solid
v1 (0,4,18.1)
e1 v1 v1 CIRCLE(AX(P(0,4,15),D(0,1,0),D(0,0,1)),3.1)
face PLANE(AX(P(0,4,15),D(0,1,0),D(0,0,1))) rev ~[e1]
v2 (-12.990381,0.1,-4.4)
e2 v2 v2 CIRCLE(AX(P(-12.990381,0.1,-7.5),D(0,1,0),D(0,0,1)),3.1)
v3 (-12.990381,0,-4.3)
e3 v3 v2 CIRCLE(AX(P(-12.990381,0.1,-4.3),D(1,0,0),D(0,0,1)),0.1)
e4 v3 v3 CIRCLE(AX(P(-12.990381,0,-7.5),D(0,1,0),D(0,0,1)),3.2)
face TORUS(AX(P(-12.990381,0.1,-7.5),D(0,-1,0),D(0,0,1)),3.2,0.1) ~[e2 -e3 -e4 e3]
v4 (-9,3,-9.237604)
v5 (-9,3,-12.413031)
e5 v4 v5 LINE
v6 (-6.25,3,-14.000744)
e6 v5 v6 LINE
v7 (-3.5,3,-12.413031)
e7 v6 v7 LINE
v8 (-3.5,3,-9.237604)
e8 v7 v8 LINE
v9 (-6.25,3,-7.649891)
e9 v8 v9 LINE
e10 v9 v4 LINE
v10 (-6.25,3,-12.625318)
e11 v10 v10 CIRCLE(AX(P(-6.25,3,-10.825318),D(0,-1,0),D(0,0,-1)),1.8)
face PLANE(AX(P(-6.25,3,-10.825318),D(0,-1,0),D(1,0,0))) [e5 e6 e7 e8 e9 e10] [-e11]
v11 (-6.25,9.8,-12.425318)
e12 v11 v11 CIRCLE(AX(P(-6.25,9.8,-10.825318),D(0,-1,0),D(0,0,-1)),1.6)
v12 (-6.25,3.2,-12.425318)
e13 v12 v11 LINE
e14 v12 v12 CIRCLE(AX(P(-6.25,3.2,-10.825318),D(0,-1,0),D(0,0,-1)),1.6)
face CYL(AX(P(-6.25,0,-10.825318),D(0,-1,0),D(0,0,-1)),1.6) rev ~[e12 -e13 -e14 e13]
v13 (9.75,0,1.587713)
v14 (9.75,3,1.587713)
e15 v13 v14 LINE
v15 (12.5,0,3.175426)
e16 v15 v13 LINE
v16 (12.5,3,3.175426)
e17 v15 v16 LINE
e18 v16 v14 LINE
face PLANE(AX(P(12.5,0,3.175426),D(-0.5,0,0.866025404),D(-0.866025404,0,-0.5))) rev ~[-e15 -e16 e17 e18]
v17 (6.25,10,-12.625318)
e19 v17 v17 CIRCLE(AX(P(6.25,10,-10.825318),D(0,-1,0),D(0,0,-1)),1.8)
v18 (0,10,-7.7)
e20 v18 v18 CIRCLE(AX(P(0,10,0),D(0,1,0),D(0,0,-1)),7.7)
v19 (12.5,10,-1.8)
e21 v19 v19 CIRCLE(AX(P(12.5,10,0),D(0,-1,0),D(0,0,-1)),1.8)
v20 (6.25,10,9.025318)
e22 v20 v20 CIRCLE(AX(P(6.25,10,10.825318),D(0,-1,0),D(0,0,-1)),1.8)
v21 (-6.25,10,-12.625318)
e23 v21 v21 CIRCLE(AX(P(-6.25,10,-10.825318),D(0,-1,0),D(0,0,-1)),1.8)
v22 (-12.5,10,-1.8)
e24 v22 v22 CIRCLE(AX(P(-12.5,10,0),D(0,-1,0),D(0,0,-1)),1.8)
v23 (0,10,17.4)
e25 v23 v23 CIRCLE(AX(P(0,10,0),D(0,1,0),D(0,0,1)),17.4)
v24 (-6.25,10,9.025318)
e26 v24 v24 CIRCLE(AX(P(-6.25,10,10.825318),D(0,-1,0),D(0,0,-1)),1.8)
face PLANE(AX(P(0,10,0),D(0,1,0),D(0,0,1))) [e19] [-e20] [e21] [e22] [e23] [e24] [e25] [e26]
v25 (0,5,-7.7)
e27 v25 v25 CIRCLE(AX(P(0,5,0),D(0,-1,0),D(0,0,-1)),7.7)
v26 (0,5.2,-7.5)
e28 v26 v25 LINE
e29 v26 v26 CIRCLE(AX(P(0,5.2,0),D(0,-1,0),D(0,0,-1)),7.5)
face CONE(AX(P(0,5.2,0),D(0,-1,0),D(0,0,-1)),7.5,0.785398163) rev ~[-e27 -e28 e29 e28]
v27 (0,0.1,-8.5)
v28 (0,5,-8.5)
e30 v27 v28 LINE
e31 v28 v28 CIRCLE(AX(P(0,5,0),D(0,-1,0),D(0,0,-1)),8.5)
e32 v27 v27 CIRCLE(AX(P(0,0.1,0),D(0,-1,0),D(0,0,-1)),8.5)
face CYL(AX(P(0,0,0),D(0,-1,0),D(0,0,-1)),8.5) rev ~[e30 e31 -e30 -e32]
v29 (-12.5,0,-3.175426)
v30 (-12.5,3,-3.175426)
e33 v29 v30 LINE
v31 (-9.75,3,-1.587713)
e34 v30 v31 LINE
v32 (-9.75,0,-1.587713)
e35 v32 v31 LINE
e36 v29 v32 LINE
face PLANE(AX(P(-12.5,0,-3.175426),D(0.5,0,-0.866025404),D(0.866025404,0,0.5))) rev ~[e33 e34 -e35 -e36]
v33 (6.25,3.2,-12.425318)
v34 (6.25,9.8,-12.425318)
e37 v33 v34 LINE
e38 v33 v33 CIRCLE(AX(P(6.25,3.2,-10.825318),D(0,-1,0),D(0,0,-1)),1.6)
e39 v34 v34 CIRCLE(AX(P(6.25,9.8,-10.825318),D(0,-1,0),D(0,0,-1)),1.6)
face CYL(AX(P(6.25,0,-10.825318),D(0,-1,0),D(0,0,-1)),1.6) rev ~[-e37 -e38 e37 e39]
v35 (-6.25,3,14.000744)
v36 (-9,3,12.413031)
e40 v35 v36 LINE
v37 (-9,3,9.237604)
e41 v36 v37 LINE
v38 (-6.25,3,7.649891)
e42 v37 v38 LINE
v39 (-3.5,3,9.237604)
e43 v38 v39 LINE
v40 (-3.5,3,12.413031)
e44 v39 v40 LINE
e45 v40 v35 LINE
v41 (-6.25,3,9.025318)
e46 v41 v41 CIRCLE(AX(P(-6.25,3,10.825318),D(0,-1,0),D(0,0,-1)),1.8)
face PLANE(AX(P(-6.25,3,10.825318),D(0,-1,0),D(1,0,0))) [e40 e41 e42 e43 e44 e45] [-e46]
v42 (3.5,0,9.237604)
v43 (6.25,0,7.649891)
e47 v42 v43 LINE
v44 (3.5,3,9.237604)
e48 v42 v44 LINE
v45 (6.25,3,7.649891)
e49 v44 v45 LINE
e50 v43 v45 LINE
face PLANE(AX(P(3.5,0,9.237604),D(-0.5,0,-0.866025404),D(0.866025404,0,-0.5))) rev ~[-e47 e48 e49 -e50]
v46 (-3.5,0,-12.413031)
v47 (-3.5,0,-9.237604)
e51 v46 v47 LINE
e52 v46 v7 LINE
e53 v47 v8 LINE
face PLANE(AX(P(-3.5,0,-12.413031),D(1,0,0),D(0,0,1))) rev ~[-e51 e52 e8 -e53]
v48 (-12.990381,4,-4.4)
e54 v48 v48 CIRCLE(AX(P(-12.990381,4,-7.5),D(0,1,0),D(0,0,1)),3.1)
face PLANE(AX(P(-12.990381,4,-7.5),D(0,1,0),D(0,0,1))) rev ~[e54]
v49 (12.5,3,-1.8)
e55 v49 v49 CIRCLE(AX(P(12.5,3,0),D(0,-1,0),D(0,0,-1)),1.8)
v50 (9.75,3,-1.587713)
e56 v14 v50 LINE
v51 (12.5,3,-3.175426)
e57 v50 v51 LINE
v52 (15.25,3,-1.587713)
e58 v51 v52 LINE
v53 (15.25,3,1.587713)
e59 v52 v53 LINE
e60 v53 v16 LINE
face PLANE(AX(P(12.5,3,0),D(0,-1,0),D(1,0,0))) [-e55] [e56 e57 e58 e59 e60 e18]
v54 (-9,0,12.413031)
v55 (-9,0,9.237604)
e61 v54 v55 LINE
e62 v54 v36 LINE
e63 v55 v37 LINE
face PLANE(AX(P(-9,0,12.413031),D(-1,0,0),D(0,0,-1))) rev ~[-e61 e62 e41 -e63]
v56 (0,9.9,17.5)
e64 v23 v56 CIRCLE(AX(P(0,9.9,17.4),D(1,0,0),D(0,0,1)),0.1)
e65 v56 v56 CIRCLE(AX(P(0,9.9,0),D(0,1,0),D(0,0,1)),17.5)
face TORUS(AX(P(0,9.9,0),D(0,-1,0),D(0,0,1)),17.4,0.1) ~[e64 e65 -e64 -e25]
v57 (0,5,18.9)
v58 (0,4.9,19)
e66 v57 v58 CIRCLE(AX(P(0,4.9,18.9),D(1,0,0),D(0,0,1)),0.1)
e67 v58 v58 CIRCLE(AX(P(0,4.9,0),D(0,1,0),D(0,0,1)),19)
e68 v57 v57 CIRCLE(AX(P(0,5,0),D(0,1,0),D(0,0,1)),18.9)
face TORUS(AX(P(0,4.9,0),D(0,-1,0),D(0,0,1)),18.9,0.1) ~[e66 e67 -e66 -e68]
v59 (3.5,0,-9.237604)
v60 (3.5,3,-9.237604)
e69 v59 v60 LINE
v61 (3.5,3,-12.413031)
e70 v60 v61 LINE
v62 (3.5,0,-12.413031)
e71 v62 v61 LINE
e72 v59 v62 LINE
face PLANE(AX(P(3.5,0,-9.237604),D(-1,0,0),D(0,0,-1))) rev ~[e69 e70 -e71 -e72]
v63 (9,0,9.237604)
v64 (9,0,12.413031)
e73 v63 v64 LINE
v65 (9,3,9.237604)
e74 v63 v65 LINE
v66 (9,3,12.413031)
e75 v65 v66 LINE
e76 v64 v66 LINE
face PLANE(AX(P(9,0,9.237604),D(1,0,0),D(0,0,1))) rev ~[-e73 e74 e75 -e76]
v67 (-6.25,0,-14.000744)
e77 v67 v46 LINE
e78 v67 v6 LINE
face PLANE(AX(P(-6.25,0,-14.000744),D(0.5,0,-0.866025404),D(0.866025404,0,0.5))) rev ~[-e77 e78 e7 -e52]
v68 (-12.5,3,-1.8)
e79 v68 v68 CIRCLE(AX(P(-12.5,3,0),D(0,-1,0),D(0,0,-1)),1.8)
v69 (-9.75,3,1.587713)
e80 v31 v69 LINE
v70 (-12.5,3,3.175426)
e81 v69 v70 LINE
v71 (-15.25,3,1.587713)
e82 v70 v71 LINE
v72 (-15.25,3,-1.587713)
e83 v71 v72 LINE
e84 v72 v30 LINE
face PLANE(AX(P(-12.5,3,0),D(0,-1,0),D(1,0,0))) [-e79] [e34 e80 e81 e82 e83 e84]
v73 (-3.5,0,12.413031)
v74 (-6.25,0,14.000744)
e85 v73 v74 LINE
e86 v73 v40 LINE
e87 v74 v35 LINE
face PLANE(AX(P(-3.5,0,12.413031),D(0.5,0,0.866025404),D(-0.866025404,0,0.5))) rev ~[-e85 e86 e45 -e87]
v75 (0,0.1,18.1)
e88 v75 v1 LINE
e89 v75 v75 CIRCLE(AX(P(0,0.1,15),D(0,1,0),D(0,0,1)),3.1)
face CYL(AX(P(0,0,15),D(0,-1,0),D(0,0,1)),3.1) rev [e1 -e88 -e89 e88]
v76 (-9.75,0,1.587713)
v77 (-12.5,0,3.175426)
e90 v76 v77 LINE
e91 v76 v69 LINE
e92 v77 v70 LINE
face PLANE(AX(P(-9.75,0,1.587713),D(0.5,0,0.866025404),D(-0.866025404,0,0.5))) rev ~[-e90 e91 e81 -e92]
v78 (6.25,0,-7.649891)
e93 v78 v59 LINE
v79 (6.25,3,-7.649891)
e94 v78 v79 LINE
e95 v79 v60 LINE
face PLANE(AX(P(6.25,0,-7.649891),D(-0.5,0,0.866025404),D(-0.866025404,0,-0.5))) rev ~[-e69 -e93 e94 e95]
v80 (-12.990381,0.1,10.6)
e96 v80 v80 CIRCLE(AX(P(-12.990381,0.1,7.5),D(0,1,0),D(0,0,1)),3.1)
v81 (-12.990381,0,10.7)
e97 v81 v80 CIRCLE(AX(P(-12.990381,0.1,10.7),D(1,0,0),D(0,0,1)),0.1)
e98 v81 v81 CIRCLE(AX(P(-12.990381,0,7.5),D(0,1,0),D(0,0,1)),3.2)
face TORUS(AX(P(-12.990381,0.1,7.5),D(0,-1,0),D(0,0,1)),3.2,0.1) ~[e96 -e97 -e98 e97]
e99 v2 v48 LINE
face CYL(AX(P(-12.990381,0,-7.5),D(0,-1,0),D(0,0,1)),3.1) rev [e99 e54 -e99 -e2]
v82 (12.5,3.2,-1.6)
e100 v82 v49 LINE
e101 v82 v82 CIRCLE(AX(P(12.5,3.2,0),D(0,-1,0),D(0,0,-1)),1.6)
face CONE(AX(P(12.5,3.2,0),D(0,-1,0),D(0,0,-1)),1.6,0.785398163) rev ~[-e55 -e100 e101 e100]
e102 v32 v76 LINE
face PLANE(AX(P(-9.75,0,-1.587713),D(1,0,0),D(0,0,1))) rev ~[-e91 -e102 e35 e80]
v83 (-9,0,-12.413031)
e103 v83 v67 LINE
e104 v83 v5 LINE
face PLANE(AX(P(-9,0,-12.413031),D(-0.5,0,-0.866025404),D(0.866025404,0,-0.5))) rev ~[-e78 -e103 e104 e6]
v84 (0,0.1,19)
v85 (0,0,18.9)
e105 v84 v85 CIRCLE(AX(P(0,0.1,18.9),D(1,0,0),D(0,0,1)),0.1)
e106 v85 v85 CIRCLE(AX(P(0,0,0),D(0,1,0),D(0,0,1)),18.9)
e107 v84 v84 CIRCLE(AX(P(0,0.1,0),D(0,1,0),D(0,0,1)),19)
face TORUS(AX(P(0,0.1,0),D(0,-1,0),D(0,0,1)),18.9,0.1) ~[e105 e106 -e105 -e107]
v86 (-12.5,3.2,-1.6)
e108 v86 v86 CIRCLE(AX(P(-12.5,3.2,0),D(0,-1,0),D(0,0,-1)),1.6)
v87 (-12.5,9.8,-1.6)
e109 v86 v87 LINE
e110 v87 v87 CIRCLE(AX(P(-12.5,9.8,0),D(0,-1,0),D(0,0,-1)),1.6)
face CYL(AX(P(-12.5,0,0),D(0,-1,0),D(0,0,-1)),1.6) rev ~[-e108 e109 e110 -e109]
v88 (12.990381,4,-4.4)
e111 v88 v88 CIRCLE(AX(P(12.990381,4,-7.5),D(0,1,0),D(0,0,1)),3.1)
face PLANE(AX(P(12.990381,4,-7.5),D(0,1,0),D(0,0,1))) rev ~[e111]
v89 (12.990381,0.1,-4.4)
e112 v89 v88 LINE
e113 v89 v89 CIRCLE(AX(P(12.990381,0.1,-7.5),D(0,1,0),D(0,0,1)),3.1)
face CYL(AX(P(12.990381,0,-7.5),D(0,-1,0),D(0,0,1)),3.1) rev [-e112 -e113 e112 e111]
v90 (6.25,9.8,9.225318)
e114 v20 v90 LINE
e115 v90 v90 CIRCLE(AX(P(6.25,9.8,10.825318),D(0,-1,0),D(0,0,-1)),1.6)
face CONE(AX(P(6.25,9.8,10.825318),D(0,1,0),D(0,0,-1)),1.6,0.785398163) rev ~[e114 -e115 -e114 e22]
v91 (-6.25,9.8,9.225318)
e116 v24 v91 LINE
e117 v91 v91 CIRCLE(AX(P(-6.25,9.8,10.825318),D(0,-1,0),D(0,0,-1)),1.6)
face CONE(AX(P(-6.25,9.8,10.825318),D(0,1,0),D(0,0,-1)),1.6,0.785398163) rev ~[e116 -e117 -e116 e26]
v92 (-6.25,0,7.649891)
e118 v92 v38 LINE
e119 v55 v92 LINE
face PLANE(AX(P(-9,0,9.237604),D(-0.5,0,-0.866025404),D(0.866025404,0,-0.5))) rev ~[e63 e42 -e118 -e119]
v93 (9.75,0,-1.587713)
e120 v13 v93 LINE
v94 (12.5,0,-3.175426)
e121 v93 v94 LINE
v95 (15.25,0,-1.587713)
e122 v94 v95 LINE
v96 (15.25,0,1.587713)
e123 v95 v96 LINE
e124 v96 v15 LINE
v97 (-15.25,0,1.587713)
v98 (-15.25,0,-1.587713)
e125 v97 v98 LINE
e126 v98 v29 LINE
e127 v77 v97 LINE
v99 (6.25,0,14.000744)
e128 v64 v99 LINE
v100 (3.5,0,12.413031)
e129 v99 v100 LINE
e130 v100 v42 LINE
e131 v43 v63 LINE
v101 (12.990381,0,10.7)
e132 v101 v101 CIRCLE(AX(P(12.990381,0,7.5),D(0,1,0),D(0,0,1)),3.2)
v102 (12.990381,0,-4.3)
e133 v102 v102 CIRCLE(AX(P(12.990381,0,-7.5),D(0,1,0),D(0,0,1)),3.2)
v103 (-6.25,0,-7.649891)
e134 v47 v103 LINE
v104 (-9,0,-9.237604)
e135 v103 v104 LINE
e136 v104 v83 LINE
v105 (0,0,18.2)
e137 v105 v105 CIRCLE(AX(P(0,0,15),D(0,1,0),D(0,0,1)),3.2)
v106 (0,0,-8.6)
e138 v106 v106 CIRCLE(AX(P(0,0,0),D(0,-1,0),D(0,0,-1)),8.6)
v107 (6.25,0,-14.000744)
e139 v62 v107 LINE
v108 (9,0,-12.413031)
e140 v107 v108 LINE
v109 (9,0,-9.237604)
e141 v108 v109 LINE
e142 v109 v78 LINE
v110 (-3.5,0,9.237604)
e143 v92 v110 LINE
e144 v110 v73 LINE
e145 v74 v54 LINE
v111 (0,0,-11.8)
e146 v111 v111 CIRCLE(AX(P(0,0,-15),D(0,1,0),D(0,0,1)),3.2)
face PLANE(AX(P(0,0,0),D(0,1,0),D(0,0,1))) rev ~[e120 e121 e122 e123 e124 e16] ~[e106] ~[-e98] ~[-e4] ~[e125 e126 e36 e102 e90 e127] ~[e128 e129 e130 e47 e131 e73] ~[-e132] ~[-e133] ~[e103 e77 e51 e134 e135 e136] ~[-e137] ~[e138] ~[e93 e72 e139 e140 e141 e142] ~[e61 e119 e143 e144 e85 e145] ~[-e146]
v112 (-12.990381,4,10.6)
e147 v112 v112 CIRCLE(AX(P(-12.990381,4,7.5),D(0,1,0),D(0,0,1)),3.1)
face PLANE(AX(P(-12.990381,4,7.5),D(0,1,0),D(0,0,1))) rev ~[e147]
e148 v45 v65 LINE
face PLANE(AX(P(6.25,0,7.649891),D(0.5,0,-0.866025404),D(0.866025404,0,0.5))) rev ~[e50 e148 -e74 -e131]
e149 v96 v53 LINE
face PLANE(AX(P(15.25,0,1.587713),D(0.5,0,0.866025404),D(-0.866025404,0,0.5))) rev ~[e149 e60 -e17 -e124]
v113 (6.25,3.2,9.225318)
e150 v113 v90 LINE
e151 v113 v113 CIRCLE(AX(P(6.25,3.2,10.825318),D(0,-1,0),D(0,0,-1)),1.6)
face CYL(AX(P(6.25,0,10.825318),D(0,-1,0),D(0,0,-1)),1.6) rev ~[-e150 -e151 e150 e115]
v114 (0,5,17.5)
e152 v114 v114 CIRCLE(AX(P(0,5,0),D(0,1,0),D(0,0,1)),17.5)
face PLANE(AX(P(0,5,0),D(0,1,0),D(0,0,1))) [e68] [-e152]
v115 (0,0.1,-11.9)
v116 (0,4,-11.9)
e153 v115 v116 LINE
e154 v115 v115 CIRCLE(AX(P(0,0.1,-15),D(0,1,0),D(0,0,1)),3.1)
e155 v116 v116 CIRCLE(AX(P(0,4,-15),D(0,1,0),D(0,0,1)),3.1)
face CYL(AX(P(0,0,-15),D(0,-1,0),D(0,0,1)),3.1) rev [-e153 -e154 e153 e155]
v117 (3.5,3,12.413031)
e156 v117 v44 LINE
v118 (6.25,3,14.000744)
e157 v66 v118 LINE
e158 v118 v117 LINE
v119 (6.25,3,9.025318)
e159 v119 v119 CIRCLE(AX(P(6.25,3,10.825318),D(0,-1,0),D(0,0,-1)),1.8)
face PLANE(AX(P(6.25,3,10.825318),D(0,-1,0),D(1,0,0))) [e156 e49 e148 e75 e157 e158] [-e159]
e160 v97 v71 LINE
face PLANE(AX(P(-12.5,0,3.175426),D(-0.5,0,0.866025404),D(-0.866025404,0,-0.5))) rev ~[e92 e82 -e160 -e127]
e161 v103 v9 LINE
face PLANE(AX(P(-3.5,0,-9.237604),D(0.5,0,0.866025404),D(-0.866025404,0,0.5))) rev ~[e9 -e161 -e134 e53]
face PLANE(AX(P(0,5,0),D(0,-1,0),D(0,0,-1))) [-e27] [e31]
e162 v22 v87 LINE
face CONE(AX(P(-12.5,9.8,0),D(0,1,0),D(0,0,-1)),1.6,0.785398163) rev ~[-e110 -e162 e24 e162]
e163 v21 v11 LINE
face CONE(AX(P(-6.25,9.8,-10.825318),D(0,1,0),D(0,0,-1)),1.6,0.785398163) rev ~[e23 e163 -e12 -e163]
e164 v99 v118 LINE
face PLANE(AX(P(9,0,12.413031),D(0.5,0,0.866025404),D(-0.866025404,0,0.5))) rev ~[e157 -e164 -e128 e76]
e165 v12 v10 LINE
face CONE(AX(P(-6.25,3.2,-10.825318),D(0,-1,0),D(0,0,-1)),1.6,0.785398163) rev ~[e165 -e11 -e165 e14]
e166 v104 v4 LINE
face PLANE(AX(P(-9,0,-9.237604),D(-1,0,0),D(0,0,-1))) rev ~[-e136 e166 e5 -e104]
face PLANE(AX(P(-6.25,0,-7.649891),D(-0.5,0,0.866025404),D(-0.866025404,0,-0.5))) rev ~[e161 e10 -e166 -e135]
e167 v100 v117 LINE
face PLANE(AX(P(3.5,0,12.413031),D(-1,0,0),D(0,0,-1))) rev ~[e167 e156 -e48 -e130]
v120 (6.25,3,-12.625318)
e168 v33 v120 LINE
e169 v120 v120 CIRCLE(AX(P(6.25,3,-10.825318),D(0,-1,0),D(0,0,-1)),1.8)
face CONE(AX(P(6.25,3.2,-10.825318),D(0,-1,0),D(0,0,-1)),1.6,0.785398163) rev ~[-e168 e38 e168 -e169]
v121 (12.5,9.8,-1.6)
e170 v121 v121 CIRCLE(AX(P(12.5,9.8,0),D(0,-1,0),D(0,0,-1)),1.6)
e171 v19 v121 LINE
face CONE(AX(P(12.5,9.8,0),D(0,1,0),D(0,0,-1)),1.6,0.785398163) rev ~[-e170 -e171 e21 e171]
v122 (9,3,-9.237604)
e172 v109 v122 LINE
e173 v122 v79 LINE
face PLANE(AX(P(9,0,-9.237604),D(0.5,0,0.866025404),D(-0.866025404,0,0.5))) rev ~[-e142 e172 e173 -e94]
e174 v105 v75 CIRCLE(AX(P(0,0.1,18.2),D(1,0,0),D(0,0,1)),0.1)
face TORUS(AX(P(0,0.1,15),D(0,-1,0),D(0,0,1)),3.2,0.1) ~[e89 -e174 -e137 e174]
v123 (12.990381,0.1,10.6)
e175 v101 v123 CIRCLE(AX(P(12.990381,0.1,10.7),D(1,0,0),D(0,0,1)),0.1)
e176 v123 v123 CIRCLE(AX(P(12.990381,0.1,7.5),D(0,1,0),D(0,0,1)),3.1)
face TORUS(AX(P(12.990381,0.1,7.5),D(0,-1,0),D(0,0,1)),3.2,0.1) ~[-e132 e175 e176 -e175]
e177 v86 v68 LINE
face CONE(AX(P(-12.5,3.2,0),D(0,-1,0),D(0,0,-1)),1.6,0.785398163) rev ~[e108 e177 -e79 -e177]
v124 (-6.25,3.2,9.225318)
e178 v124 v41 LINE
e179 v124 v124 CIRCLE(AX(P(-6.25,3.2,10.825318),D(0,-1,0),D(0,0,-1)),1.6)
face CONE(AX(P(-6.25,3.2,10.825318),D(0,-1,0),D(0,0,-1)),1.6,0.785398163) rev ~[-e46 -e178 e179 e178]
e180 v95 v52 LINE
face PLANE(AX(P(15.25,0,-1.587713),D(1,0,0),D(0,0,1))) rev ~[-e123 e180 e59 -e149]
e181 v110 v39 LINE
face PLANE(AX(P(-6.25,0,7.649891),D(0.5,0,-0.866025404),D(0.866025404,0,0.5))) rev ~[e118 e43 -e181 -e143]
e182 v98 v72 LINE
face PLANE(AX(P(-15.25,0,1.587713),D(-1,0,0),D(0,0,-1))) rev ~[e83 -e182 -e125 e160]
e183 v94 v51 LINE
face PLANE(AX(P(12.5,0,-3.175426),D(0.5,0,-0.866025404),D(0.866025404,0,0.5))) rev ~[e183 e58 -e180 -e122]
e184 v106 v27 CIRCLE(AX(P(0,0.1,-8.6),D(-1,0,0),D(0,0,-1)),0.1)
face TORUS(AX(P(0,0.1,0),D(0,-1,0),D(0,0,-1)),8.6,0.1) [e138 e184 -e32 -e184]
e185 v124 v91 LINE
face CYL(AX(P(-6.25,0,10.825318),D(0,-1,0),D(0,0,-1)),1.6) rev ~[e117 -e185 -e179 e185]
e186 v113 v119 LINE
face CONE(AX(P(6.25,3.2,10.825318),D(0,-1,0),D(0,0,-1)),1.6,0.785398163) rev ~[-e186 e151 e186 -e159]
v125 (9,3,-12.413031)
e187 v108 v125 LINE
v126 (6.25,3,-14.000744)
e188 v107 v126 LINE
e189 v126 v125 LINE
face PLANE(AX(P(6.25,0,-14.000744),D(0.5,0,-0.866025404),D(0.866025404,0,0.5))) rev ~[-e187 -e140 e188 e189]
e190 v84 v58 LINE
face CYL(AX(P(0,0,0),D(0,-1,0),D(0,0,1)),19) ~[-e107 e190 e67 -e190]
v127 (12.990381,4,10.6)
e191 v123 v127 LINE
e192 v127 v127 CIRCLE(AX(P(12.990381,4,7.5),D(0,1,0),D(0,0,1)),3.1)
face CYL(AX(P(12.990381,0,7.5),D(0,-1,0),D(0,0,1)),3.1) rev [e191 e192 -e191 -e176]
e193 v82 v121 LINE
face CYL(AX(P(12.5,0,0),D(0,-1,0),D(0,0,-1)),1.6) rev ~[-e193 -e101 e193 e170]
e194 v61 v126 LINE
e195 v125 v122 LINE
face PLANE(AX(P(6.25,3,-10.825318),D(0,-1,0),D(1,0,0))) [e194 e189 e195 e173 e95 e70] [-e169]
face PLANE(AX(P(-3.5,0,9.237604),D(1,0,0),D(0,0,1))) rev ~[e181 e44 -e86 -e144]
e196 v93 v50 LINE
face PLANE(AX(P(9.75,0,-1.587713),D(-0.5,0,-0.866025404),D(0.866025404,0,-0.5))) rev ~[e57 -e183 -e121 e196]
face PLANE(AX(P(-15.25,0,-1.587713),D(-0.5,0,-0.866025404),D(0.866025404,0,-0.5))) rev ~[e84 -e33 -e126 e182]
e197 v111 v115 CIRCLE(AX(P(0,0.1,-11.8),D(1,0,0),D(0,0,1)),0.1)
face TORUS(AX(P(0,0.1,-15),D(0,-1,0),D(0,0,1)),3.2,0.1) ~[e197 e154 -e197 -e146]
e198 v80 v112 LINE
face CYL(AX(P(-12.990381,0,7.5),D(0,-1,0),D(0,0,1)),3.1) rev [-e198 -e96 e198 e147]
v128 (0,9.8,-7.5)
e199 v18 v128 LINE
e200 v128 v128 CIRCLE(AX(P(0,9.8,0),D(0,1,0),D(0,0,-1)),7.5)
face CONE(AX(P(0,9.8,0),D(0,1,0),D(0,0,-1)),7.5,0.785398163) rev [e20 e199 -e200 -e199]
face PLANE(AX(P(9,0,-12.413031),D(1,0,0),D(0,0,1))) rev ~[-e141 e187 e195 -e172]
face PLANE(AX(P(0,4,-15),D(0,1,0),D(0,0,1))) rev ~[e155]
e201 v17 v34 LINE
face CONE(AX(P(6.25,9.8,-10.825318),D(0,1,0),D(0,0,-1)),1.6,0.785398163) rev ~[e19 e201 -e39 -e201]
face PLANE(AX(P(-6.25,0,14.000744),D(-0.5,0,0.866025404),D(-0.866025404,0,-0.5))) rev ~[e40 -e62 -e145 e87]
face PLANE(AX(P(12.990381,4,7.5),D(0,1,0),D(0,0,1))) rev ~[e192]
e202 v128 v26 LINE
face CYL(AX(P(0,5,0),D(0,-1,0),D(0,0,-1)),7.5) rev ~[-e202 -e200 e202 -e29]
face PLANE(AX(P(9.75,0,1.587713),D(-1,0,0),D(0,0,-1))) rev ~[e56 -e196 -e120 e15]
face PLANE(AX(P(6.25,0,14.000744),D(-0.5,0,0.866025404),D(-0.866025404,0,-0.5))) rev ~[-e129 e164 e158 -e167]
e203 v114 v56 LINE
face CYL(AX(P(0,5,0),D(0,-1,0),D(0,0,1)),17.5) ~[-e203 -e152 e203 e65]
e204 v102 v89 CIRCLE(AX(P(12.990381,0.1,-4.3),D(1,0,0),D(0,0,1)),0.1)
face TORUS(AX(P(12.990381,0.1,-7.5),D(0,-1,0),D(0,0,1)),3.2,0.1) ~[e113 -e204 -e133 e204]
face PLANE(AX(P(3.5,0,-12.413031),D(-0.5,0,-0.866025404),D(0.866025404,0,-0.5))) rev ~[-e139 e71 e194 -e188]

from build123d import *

# Parameters (mm, degrees)
SKETCH_1_R          = 19
EXTRUDE_1_DEPTH     = 5
SKETCH_1_3_R        = 3.1
CUT_EXTRUDE_1_DEPTH = 4
SKETCH_5_R          = 17.5
EXTRUDE_3_DEPTH     = 5
SKETCH_7_R          = 8.5
CUT_EXTRUDE_2_DEPTH = 5
SKETCH_8_R          = 7.5
CUT_EXTRUDE_3_DEPTH = 0.5
CUT_EXTRUDE_4_REACH = 30.671
SKETCH_10_R         = 1.6
CUT_EXTRUDE_5_DEPTH = 3
CUT_EXTRUDE_6_REACH = 30.671
SKETCH_12_R         = 7.5
CHAMFER_1_SIZE      = 0.2
FILLET_1_R          = 0.1
FILLET_2_R          = 0.1


with BuildPart() as part:
    # 草图1 → 凸台-拉伸1 (new body)
    with BuildSketch(Plane(origin=(0, 0, 0), x_dir=(1, 0, 0), z_dir=(0, 1, 0))):
        Circle(SKETCH_1_R)
    extrude(amount=EXTRUDE_1_DEPTH)

    # 草图1<3> → 切除-拉伸1 (cut)
    with BuildSketch(Plane(origin=(0, 0, 0), x_dir=(1, 0, 0), z_dir=(0, 1, 0))):
        with Locations((0, 15)):
            Circle(SKETCH_1_3_R)
        with Locations((12.990381057, 7.5)):
            Circle(SKETCH_1_3_R)
        with Locations((12.990381057, -7.5)):
            Circle(SKETCH_1_3_R)
        with Locations((0, -15)):
            Circle(SKETCH_1_3_R)
        with Locations((-12.990381057, -7.5)):
            Circle(SKETCH_1_3_R)
        with Locations((-12.990381057, 7.5)):
            Circle(SKETCH_1_3_R)
    extrude(amount=CUT_EXTRUDE_1_DEPTH, mode=Mode.SUBTRACT)

    # 草图5 → 凸台-拉伸3 (add)
    with BuildSketch(Plane(origin=(0, 5, 0), x_dir=(1, 0, 0), z_dir=(0, 1, 0))):
        Circle(SKETCH_5_R)
    extrude(amount=EXTRUDE_3_DEPTH)

    # 草图7 → 切除-拉伸2 (cut)
    with BuildSketch(Plane.XZ):
        Circle(SKETCH_7_R)
    extrude(amount=-CUT_EXTRUDE_2_DEPTH, mode=Mode.SUBTRACT)

    # 草图8 → 切除-拉伸3 (cut)
    with BuildSketch(Plane.XZ.offset(-5)):
        Circle(SKETCH_8_R)
    extrude(amount=-CUT_EXTRUDE_3_DEPTH, mode=Mode.SUBTRACT)

    # 草图10 → 切除-拉伸4 (cut, up to next)
    with BuildSketch(Plane.XZ, mode=Mode.PRIVATE) as cut_extrude_4_sk1:
        with Locations((6.25, 10.825317547)):
            Circle(SKETCH_10_R)
    cut_extrude_4_tool1 = extrude(cut_extrude_4_sk1.sketch, amount=-CUT_EXTRUDE_4_REACH, mode=Mode.PRIVATE) & part.part
    # 草图10 → 切除-拉伸4 (cut, up to next)
    with BuildSketch(Plane.XZ, mode=Mode.PRIVATE) as cut_extrude_4_sk2:
        with Locations((12.5, 0)):
            Circle(SKETCH_10_R)
    cut_extrude_4_tool2 = extrude(cut_extrude_4_sk2.sketch, amount=-CUT_EXTRUDE_4_REACH, mode=Mode.PRIVATE) & part.part
    # 草图10 → 切除-拉伸4 (cut, up to next)
    with BuildSketch(Plane.XZ, mode=Mode.PRIVATE) as cut_extrude_4_sk3:
        with Locations((6.25, -10.825317547)):
            Circle(SKETCH_10_R)
    cut_extrude_4_tool3 = extrude(cut_extrude_4_sk3.sketch, amount=-CUT_EXTRUDE_4_REACH, mode=Mode.PRIVATE) & part.part
    # 草图10 → 切除-拉伸4 (cut, up to next)
    with BuildSketch(Plane.XZ, mode=Mode.PRIVATE) as cut_extrude_4_sk4:
        with Locations((-6.25, -10.825317547)):
            Circle(SKETCH_10_R)
    cut_extrude_4_tool4 = extrude(cut_extrude_4_sk4.sketch, amount=-CUT_EXTRUDE_4_REACH, mode=Mode.PRIVATE) & part.part
    # 草图10 → 切除-拉伸4 (cut, up to next)
    with BuildSketch(Plane.XZ, mode=Mode.PRIVATE) as cut_extrude_4_sk5:
        with Locations((-12.5, 0)):
            Circle(SKETCH_10_R)
    cut_extrude_4_tool5 = extrude(cut_extrude_4_sk5.sketch, amount=-CUT_EXTRUDE_4_REACH, mode=Mode.PRIVATE) & part.part
    # 草图10 → 切除-拉伸4 (cut, up to next)
    with BuildSketch(Plane.XZ, mode=Mode.PRIVATE) as cut_extrude_4_sk6:
        with Locations((-6.25, 10.825317547)):
            Circle(SKETCH_10_R)
    cut_extrude_4_tool6 = extrude(cut_extrude_4_sk6.sketch, amount=-CUT_EXTRUDE_4_REACH, mode=Mode.PRIVATE) & part.part
    add(cut_extrude_4_tool1.solids().sort_by_distance((6.25, 0, 10.825318))[0], mode=Mode.SUBTRACT)
    add(cut_extrude_4_tool2.solids().sort_by_distance((12.5, 0, 0))[0], mode=Mode.SUBTRACT)
    add(cut_extrude_4_tool3.solids().sort_by_distance((6.25, 0, -10.825318))[0], mode=Mode.SUBTRACT)
    add(cut_extrude_4_tool4.solids().sort_by_distance((-6.25, 0, -10.825318))[0], mode=Mode.SUBTRACT)
    add(cut_extrude_4_tool5.solids().sort_by_distance((-12.5, 0, 0))[0], mode=Mode.SUBTRACT)
    add(cut_extrude_4_tool6.solids().sort_by_distance((-6.25, 0, 10.825318))[0], mode=Mode.SUBTRACT)

    # 草图11 → 切除-拉伸5 (cut)
    with BuildSketch(Plane.XZ):
        Polygon((6.25, -14.000744028), (9, -12.413030788), (9, -9.237604307), (6.25, -7.649891067), (3.5, -9.237604307), (3.5, -12.413030788), align=None)
        Polygon((15.25, -1.58771324), (15.25, 1.58771324), (12.5, 3.175426481), (9.75, 1.58771324), (9.75, -1.58771324), (12.5, -3.175426481), align=None)
        Polygon((-9, -12.413030788), (-6.25, -14.000744028), (-3.5, -12.413030788), (-3.5, -9.237604307), (-6.25, -7.649891067), (-9, -9.237604307), align=None)
        Polygon((-15.25, 1.58771324), (-15.25, -1.58771324), (-12.5, -3.175426481), (-9.75, -1.58771324), (-9.75, 1.58771324), (-12.5, 3.175426481), align=None)
        Polygon((-6.25, 14.000744028), (-9, 12.413030788), (-9, 9.237604307), (-6.25, 7.649891067), (-3.5, 9.237604307), (-3.5, 12.413030788), align=None)
        Polygon((9, 12.413030788), (6.25, 14.000744028), (3.5, 12.413030788), (3.5, 9.237604307), (6.25, 7.649891067), (9, 9.237604307), align=None)
    extrude(amount=-CUT_EXTRUDE_5_DEPTH, mode=Mode.SUBTRACT)

    # 草图12 → 切除-拉伸6 (cut, up to next)
    with BuildSketch(Plane(origin=(0, 10, 0), x_dir=(1, 0, 0), z_dir=(0, 1, 0)), mode=Mode.PRIVATE) as cut_extrude_6_sk1:
        Circle(SKETCH_12_R)
    cut_extrude_6_tool1 = extrude(cut_extrude_6_sk1.sketch, amount=-CUT_EXTRUDE_6_REACH, mode=Mode.PRIVATE) & part.part
    add(cut_extrude_6_tool1.solids().sort_by_distance((0, 10, 0))[0], mode=Mode.SUBTRACT)

    # 倒角1
    chamfer_1_edges = [part.edges().sort_by_distance(p)[0] for p in [
        (-14.1, 3, 0),
        (-14.1, 10, 0),
        (-7.85, 3, 10.825317547),
        (-7.85, 10, 10.825317547),
        (4.65, 3, 10.825317547),
        (4.65, 10, 10.825317547),
        (10.9, 3, 0),
        (10.9, 10, 0),
        (4.65, 3, -10.825317547),
        (4.65, 10, -10.825317547),
        (-7.85, 3, -10.825317547),
        (-7.85, 10, -10.825317547),
        (-7.5, 10, 0),
        (-7.5, 5, 0),
    ]]
    chamfer(chamfer_1_edges, length=CHAMFER_1_SIZE)

    # 圆角1
    fillet_1_edges = [part.edges().sort_by_distance(p)[0] for p in [
        (-19, 0, 0),
        (-19, 5, 0),
        (-8.5, 0, 0),
        (-17.5, 10, 0),
    ]]
    fillet(fillet_1_edges, radius=FILLET_1_R)

    # 圆角2
    fillet_2_edges = [part.edges().sort_by_distance(p)[0] for p in [
        (9.890381057, 0, 7.5),
        (9.890381057, 0, -7.5),
        (-3.1, 0, -15),
        (-16.090381057, 0, -7.5),
        (-16.090381057, 0, 7.5),
        (-3.1, 0, 15),
    ]]
    fillet(fillet_2_edges, radius=FILLET_2_R)


solid = part.part
